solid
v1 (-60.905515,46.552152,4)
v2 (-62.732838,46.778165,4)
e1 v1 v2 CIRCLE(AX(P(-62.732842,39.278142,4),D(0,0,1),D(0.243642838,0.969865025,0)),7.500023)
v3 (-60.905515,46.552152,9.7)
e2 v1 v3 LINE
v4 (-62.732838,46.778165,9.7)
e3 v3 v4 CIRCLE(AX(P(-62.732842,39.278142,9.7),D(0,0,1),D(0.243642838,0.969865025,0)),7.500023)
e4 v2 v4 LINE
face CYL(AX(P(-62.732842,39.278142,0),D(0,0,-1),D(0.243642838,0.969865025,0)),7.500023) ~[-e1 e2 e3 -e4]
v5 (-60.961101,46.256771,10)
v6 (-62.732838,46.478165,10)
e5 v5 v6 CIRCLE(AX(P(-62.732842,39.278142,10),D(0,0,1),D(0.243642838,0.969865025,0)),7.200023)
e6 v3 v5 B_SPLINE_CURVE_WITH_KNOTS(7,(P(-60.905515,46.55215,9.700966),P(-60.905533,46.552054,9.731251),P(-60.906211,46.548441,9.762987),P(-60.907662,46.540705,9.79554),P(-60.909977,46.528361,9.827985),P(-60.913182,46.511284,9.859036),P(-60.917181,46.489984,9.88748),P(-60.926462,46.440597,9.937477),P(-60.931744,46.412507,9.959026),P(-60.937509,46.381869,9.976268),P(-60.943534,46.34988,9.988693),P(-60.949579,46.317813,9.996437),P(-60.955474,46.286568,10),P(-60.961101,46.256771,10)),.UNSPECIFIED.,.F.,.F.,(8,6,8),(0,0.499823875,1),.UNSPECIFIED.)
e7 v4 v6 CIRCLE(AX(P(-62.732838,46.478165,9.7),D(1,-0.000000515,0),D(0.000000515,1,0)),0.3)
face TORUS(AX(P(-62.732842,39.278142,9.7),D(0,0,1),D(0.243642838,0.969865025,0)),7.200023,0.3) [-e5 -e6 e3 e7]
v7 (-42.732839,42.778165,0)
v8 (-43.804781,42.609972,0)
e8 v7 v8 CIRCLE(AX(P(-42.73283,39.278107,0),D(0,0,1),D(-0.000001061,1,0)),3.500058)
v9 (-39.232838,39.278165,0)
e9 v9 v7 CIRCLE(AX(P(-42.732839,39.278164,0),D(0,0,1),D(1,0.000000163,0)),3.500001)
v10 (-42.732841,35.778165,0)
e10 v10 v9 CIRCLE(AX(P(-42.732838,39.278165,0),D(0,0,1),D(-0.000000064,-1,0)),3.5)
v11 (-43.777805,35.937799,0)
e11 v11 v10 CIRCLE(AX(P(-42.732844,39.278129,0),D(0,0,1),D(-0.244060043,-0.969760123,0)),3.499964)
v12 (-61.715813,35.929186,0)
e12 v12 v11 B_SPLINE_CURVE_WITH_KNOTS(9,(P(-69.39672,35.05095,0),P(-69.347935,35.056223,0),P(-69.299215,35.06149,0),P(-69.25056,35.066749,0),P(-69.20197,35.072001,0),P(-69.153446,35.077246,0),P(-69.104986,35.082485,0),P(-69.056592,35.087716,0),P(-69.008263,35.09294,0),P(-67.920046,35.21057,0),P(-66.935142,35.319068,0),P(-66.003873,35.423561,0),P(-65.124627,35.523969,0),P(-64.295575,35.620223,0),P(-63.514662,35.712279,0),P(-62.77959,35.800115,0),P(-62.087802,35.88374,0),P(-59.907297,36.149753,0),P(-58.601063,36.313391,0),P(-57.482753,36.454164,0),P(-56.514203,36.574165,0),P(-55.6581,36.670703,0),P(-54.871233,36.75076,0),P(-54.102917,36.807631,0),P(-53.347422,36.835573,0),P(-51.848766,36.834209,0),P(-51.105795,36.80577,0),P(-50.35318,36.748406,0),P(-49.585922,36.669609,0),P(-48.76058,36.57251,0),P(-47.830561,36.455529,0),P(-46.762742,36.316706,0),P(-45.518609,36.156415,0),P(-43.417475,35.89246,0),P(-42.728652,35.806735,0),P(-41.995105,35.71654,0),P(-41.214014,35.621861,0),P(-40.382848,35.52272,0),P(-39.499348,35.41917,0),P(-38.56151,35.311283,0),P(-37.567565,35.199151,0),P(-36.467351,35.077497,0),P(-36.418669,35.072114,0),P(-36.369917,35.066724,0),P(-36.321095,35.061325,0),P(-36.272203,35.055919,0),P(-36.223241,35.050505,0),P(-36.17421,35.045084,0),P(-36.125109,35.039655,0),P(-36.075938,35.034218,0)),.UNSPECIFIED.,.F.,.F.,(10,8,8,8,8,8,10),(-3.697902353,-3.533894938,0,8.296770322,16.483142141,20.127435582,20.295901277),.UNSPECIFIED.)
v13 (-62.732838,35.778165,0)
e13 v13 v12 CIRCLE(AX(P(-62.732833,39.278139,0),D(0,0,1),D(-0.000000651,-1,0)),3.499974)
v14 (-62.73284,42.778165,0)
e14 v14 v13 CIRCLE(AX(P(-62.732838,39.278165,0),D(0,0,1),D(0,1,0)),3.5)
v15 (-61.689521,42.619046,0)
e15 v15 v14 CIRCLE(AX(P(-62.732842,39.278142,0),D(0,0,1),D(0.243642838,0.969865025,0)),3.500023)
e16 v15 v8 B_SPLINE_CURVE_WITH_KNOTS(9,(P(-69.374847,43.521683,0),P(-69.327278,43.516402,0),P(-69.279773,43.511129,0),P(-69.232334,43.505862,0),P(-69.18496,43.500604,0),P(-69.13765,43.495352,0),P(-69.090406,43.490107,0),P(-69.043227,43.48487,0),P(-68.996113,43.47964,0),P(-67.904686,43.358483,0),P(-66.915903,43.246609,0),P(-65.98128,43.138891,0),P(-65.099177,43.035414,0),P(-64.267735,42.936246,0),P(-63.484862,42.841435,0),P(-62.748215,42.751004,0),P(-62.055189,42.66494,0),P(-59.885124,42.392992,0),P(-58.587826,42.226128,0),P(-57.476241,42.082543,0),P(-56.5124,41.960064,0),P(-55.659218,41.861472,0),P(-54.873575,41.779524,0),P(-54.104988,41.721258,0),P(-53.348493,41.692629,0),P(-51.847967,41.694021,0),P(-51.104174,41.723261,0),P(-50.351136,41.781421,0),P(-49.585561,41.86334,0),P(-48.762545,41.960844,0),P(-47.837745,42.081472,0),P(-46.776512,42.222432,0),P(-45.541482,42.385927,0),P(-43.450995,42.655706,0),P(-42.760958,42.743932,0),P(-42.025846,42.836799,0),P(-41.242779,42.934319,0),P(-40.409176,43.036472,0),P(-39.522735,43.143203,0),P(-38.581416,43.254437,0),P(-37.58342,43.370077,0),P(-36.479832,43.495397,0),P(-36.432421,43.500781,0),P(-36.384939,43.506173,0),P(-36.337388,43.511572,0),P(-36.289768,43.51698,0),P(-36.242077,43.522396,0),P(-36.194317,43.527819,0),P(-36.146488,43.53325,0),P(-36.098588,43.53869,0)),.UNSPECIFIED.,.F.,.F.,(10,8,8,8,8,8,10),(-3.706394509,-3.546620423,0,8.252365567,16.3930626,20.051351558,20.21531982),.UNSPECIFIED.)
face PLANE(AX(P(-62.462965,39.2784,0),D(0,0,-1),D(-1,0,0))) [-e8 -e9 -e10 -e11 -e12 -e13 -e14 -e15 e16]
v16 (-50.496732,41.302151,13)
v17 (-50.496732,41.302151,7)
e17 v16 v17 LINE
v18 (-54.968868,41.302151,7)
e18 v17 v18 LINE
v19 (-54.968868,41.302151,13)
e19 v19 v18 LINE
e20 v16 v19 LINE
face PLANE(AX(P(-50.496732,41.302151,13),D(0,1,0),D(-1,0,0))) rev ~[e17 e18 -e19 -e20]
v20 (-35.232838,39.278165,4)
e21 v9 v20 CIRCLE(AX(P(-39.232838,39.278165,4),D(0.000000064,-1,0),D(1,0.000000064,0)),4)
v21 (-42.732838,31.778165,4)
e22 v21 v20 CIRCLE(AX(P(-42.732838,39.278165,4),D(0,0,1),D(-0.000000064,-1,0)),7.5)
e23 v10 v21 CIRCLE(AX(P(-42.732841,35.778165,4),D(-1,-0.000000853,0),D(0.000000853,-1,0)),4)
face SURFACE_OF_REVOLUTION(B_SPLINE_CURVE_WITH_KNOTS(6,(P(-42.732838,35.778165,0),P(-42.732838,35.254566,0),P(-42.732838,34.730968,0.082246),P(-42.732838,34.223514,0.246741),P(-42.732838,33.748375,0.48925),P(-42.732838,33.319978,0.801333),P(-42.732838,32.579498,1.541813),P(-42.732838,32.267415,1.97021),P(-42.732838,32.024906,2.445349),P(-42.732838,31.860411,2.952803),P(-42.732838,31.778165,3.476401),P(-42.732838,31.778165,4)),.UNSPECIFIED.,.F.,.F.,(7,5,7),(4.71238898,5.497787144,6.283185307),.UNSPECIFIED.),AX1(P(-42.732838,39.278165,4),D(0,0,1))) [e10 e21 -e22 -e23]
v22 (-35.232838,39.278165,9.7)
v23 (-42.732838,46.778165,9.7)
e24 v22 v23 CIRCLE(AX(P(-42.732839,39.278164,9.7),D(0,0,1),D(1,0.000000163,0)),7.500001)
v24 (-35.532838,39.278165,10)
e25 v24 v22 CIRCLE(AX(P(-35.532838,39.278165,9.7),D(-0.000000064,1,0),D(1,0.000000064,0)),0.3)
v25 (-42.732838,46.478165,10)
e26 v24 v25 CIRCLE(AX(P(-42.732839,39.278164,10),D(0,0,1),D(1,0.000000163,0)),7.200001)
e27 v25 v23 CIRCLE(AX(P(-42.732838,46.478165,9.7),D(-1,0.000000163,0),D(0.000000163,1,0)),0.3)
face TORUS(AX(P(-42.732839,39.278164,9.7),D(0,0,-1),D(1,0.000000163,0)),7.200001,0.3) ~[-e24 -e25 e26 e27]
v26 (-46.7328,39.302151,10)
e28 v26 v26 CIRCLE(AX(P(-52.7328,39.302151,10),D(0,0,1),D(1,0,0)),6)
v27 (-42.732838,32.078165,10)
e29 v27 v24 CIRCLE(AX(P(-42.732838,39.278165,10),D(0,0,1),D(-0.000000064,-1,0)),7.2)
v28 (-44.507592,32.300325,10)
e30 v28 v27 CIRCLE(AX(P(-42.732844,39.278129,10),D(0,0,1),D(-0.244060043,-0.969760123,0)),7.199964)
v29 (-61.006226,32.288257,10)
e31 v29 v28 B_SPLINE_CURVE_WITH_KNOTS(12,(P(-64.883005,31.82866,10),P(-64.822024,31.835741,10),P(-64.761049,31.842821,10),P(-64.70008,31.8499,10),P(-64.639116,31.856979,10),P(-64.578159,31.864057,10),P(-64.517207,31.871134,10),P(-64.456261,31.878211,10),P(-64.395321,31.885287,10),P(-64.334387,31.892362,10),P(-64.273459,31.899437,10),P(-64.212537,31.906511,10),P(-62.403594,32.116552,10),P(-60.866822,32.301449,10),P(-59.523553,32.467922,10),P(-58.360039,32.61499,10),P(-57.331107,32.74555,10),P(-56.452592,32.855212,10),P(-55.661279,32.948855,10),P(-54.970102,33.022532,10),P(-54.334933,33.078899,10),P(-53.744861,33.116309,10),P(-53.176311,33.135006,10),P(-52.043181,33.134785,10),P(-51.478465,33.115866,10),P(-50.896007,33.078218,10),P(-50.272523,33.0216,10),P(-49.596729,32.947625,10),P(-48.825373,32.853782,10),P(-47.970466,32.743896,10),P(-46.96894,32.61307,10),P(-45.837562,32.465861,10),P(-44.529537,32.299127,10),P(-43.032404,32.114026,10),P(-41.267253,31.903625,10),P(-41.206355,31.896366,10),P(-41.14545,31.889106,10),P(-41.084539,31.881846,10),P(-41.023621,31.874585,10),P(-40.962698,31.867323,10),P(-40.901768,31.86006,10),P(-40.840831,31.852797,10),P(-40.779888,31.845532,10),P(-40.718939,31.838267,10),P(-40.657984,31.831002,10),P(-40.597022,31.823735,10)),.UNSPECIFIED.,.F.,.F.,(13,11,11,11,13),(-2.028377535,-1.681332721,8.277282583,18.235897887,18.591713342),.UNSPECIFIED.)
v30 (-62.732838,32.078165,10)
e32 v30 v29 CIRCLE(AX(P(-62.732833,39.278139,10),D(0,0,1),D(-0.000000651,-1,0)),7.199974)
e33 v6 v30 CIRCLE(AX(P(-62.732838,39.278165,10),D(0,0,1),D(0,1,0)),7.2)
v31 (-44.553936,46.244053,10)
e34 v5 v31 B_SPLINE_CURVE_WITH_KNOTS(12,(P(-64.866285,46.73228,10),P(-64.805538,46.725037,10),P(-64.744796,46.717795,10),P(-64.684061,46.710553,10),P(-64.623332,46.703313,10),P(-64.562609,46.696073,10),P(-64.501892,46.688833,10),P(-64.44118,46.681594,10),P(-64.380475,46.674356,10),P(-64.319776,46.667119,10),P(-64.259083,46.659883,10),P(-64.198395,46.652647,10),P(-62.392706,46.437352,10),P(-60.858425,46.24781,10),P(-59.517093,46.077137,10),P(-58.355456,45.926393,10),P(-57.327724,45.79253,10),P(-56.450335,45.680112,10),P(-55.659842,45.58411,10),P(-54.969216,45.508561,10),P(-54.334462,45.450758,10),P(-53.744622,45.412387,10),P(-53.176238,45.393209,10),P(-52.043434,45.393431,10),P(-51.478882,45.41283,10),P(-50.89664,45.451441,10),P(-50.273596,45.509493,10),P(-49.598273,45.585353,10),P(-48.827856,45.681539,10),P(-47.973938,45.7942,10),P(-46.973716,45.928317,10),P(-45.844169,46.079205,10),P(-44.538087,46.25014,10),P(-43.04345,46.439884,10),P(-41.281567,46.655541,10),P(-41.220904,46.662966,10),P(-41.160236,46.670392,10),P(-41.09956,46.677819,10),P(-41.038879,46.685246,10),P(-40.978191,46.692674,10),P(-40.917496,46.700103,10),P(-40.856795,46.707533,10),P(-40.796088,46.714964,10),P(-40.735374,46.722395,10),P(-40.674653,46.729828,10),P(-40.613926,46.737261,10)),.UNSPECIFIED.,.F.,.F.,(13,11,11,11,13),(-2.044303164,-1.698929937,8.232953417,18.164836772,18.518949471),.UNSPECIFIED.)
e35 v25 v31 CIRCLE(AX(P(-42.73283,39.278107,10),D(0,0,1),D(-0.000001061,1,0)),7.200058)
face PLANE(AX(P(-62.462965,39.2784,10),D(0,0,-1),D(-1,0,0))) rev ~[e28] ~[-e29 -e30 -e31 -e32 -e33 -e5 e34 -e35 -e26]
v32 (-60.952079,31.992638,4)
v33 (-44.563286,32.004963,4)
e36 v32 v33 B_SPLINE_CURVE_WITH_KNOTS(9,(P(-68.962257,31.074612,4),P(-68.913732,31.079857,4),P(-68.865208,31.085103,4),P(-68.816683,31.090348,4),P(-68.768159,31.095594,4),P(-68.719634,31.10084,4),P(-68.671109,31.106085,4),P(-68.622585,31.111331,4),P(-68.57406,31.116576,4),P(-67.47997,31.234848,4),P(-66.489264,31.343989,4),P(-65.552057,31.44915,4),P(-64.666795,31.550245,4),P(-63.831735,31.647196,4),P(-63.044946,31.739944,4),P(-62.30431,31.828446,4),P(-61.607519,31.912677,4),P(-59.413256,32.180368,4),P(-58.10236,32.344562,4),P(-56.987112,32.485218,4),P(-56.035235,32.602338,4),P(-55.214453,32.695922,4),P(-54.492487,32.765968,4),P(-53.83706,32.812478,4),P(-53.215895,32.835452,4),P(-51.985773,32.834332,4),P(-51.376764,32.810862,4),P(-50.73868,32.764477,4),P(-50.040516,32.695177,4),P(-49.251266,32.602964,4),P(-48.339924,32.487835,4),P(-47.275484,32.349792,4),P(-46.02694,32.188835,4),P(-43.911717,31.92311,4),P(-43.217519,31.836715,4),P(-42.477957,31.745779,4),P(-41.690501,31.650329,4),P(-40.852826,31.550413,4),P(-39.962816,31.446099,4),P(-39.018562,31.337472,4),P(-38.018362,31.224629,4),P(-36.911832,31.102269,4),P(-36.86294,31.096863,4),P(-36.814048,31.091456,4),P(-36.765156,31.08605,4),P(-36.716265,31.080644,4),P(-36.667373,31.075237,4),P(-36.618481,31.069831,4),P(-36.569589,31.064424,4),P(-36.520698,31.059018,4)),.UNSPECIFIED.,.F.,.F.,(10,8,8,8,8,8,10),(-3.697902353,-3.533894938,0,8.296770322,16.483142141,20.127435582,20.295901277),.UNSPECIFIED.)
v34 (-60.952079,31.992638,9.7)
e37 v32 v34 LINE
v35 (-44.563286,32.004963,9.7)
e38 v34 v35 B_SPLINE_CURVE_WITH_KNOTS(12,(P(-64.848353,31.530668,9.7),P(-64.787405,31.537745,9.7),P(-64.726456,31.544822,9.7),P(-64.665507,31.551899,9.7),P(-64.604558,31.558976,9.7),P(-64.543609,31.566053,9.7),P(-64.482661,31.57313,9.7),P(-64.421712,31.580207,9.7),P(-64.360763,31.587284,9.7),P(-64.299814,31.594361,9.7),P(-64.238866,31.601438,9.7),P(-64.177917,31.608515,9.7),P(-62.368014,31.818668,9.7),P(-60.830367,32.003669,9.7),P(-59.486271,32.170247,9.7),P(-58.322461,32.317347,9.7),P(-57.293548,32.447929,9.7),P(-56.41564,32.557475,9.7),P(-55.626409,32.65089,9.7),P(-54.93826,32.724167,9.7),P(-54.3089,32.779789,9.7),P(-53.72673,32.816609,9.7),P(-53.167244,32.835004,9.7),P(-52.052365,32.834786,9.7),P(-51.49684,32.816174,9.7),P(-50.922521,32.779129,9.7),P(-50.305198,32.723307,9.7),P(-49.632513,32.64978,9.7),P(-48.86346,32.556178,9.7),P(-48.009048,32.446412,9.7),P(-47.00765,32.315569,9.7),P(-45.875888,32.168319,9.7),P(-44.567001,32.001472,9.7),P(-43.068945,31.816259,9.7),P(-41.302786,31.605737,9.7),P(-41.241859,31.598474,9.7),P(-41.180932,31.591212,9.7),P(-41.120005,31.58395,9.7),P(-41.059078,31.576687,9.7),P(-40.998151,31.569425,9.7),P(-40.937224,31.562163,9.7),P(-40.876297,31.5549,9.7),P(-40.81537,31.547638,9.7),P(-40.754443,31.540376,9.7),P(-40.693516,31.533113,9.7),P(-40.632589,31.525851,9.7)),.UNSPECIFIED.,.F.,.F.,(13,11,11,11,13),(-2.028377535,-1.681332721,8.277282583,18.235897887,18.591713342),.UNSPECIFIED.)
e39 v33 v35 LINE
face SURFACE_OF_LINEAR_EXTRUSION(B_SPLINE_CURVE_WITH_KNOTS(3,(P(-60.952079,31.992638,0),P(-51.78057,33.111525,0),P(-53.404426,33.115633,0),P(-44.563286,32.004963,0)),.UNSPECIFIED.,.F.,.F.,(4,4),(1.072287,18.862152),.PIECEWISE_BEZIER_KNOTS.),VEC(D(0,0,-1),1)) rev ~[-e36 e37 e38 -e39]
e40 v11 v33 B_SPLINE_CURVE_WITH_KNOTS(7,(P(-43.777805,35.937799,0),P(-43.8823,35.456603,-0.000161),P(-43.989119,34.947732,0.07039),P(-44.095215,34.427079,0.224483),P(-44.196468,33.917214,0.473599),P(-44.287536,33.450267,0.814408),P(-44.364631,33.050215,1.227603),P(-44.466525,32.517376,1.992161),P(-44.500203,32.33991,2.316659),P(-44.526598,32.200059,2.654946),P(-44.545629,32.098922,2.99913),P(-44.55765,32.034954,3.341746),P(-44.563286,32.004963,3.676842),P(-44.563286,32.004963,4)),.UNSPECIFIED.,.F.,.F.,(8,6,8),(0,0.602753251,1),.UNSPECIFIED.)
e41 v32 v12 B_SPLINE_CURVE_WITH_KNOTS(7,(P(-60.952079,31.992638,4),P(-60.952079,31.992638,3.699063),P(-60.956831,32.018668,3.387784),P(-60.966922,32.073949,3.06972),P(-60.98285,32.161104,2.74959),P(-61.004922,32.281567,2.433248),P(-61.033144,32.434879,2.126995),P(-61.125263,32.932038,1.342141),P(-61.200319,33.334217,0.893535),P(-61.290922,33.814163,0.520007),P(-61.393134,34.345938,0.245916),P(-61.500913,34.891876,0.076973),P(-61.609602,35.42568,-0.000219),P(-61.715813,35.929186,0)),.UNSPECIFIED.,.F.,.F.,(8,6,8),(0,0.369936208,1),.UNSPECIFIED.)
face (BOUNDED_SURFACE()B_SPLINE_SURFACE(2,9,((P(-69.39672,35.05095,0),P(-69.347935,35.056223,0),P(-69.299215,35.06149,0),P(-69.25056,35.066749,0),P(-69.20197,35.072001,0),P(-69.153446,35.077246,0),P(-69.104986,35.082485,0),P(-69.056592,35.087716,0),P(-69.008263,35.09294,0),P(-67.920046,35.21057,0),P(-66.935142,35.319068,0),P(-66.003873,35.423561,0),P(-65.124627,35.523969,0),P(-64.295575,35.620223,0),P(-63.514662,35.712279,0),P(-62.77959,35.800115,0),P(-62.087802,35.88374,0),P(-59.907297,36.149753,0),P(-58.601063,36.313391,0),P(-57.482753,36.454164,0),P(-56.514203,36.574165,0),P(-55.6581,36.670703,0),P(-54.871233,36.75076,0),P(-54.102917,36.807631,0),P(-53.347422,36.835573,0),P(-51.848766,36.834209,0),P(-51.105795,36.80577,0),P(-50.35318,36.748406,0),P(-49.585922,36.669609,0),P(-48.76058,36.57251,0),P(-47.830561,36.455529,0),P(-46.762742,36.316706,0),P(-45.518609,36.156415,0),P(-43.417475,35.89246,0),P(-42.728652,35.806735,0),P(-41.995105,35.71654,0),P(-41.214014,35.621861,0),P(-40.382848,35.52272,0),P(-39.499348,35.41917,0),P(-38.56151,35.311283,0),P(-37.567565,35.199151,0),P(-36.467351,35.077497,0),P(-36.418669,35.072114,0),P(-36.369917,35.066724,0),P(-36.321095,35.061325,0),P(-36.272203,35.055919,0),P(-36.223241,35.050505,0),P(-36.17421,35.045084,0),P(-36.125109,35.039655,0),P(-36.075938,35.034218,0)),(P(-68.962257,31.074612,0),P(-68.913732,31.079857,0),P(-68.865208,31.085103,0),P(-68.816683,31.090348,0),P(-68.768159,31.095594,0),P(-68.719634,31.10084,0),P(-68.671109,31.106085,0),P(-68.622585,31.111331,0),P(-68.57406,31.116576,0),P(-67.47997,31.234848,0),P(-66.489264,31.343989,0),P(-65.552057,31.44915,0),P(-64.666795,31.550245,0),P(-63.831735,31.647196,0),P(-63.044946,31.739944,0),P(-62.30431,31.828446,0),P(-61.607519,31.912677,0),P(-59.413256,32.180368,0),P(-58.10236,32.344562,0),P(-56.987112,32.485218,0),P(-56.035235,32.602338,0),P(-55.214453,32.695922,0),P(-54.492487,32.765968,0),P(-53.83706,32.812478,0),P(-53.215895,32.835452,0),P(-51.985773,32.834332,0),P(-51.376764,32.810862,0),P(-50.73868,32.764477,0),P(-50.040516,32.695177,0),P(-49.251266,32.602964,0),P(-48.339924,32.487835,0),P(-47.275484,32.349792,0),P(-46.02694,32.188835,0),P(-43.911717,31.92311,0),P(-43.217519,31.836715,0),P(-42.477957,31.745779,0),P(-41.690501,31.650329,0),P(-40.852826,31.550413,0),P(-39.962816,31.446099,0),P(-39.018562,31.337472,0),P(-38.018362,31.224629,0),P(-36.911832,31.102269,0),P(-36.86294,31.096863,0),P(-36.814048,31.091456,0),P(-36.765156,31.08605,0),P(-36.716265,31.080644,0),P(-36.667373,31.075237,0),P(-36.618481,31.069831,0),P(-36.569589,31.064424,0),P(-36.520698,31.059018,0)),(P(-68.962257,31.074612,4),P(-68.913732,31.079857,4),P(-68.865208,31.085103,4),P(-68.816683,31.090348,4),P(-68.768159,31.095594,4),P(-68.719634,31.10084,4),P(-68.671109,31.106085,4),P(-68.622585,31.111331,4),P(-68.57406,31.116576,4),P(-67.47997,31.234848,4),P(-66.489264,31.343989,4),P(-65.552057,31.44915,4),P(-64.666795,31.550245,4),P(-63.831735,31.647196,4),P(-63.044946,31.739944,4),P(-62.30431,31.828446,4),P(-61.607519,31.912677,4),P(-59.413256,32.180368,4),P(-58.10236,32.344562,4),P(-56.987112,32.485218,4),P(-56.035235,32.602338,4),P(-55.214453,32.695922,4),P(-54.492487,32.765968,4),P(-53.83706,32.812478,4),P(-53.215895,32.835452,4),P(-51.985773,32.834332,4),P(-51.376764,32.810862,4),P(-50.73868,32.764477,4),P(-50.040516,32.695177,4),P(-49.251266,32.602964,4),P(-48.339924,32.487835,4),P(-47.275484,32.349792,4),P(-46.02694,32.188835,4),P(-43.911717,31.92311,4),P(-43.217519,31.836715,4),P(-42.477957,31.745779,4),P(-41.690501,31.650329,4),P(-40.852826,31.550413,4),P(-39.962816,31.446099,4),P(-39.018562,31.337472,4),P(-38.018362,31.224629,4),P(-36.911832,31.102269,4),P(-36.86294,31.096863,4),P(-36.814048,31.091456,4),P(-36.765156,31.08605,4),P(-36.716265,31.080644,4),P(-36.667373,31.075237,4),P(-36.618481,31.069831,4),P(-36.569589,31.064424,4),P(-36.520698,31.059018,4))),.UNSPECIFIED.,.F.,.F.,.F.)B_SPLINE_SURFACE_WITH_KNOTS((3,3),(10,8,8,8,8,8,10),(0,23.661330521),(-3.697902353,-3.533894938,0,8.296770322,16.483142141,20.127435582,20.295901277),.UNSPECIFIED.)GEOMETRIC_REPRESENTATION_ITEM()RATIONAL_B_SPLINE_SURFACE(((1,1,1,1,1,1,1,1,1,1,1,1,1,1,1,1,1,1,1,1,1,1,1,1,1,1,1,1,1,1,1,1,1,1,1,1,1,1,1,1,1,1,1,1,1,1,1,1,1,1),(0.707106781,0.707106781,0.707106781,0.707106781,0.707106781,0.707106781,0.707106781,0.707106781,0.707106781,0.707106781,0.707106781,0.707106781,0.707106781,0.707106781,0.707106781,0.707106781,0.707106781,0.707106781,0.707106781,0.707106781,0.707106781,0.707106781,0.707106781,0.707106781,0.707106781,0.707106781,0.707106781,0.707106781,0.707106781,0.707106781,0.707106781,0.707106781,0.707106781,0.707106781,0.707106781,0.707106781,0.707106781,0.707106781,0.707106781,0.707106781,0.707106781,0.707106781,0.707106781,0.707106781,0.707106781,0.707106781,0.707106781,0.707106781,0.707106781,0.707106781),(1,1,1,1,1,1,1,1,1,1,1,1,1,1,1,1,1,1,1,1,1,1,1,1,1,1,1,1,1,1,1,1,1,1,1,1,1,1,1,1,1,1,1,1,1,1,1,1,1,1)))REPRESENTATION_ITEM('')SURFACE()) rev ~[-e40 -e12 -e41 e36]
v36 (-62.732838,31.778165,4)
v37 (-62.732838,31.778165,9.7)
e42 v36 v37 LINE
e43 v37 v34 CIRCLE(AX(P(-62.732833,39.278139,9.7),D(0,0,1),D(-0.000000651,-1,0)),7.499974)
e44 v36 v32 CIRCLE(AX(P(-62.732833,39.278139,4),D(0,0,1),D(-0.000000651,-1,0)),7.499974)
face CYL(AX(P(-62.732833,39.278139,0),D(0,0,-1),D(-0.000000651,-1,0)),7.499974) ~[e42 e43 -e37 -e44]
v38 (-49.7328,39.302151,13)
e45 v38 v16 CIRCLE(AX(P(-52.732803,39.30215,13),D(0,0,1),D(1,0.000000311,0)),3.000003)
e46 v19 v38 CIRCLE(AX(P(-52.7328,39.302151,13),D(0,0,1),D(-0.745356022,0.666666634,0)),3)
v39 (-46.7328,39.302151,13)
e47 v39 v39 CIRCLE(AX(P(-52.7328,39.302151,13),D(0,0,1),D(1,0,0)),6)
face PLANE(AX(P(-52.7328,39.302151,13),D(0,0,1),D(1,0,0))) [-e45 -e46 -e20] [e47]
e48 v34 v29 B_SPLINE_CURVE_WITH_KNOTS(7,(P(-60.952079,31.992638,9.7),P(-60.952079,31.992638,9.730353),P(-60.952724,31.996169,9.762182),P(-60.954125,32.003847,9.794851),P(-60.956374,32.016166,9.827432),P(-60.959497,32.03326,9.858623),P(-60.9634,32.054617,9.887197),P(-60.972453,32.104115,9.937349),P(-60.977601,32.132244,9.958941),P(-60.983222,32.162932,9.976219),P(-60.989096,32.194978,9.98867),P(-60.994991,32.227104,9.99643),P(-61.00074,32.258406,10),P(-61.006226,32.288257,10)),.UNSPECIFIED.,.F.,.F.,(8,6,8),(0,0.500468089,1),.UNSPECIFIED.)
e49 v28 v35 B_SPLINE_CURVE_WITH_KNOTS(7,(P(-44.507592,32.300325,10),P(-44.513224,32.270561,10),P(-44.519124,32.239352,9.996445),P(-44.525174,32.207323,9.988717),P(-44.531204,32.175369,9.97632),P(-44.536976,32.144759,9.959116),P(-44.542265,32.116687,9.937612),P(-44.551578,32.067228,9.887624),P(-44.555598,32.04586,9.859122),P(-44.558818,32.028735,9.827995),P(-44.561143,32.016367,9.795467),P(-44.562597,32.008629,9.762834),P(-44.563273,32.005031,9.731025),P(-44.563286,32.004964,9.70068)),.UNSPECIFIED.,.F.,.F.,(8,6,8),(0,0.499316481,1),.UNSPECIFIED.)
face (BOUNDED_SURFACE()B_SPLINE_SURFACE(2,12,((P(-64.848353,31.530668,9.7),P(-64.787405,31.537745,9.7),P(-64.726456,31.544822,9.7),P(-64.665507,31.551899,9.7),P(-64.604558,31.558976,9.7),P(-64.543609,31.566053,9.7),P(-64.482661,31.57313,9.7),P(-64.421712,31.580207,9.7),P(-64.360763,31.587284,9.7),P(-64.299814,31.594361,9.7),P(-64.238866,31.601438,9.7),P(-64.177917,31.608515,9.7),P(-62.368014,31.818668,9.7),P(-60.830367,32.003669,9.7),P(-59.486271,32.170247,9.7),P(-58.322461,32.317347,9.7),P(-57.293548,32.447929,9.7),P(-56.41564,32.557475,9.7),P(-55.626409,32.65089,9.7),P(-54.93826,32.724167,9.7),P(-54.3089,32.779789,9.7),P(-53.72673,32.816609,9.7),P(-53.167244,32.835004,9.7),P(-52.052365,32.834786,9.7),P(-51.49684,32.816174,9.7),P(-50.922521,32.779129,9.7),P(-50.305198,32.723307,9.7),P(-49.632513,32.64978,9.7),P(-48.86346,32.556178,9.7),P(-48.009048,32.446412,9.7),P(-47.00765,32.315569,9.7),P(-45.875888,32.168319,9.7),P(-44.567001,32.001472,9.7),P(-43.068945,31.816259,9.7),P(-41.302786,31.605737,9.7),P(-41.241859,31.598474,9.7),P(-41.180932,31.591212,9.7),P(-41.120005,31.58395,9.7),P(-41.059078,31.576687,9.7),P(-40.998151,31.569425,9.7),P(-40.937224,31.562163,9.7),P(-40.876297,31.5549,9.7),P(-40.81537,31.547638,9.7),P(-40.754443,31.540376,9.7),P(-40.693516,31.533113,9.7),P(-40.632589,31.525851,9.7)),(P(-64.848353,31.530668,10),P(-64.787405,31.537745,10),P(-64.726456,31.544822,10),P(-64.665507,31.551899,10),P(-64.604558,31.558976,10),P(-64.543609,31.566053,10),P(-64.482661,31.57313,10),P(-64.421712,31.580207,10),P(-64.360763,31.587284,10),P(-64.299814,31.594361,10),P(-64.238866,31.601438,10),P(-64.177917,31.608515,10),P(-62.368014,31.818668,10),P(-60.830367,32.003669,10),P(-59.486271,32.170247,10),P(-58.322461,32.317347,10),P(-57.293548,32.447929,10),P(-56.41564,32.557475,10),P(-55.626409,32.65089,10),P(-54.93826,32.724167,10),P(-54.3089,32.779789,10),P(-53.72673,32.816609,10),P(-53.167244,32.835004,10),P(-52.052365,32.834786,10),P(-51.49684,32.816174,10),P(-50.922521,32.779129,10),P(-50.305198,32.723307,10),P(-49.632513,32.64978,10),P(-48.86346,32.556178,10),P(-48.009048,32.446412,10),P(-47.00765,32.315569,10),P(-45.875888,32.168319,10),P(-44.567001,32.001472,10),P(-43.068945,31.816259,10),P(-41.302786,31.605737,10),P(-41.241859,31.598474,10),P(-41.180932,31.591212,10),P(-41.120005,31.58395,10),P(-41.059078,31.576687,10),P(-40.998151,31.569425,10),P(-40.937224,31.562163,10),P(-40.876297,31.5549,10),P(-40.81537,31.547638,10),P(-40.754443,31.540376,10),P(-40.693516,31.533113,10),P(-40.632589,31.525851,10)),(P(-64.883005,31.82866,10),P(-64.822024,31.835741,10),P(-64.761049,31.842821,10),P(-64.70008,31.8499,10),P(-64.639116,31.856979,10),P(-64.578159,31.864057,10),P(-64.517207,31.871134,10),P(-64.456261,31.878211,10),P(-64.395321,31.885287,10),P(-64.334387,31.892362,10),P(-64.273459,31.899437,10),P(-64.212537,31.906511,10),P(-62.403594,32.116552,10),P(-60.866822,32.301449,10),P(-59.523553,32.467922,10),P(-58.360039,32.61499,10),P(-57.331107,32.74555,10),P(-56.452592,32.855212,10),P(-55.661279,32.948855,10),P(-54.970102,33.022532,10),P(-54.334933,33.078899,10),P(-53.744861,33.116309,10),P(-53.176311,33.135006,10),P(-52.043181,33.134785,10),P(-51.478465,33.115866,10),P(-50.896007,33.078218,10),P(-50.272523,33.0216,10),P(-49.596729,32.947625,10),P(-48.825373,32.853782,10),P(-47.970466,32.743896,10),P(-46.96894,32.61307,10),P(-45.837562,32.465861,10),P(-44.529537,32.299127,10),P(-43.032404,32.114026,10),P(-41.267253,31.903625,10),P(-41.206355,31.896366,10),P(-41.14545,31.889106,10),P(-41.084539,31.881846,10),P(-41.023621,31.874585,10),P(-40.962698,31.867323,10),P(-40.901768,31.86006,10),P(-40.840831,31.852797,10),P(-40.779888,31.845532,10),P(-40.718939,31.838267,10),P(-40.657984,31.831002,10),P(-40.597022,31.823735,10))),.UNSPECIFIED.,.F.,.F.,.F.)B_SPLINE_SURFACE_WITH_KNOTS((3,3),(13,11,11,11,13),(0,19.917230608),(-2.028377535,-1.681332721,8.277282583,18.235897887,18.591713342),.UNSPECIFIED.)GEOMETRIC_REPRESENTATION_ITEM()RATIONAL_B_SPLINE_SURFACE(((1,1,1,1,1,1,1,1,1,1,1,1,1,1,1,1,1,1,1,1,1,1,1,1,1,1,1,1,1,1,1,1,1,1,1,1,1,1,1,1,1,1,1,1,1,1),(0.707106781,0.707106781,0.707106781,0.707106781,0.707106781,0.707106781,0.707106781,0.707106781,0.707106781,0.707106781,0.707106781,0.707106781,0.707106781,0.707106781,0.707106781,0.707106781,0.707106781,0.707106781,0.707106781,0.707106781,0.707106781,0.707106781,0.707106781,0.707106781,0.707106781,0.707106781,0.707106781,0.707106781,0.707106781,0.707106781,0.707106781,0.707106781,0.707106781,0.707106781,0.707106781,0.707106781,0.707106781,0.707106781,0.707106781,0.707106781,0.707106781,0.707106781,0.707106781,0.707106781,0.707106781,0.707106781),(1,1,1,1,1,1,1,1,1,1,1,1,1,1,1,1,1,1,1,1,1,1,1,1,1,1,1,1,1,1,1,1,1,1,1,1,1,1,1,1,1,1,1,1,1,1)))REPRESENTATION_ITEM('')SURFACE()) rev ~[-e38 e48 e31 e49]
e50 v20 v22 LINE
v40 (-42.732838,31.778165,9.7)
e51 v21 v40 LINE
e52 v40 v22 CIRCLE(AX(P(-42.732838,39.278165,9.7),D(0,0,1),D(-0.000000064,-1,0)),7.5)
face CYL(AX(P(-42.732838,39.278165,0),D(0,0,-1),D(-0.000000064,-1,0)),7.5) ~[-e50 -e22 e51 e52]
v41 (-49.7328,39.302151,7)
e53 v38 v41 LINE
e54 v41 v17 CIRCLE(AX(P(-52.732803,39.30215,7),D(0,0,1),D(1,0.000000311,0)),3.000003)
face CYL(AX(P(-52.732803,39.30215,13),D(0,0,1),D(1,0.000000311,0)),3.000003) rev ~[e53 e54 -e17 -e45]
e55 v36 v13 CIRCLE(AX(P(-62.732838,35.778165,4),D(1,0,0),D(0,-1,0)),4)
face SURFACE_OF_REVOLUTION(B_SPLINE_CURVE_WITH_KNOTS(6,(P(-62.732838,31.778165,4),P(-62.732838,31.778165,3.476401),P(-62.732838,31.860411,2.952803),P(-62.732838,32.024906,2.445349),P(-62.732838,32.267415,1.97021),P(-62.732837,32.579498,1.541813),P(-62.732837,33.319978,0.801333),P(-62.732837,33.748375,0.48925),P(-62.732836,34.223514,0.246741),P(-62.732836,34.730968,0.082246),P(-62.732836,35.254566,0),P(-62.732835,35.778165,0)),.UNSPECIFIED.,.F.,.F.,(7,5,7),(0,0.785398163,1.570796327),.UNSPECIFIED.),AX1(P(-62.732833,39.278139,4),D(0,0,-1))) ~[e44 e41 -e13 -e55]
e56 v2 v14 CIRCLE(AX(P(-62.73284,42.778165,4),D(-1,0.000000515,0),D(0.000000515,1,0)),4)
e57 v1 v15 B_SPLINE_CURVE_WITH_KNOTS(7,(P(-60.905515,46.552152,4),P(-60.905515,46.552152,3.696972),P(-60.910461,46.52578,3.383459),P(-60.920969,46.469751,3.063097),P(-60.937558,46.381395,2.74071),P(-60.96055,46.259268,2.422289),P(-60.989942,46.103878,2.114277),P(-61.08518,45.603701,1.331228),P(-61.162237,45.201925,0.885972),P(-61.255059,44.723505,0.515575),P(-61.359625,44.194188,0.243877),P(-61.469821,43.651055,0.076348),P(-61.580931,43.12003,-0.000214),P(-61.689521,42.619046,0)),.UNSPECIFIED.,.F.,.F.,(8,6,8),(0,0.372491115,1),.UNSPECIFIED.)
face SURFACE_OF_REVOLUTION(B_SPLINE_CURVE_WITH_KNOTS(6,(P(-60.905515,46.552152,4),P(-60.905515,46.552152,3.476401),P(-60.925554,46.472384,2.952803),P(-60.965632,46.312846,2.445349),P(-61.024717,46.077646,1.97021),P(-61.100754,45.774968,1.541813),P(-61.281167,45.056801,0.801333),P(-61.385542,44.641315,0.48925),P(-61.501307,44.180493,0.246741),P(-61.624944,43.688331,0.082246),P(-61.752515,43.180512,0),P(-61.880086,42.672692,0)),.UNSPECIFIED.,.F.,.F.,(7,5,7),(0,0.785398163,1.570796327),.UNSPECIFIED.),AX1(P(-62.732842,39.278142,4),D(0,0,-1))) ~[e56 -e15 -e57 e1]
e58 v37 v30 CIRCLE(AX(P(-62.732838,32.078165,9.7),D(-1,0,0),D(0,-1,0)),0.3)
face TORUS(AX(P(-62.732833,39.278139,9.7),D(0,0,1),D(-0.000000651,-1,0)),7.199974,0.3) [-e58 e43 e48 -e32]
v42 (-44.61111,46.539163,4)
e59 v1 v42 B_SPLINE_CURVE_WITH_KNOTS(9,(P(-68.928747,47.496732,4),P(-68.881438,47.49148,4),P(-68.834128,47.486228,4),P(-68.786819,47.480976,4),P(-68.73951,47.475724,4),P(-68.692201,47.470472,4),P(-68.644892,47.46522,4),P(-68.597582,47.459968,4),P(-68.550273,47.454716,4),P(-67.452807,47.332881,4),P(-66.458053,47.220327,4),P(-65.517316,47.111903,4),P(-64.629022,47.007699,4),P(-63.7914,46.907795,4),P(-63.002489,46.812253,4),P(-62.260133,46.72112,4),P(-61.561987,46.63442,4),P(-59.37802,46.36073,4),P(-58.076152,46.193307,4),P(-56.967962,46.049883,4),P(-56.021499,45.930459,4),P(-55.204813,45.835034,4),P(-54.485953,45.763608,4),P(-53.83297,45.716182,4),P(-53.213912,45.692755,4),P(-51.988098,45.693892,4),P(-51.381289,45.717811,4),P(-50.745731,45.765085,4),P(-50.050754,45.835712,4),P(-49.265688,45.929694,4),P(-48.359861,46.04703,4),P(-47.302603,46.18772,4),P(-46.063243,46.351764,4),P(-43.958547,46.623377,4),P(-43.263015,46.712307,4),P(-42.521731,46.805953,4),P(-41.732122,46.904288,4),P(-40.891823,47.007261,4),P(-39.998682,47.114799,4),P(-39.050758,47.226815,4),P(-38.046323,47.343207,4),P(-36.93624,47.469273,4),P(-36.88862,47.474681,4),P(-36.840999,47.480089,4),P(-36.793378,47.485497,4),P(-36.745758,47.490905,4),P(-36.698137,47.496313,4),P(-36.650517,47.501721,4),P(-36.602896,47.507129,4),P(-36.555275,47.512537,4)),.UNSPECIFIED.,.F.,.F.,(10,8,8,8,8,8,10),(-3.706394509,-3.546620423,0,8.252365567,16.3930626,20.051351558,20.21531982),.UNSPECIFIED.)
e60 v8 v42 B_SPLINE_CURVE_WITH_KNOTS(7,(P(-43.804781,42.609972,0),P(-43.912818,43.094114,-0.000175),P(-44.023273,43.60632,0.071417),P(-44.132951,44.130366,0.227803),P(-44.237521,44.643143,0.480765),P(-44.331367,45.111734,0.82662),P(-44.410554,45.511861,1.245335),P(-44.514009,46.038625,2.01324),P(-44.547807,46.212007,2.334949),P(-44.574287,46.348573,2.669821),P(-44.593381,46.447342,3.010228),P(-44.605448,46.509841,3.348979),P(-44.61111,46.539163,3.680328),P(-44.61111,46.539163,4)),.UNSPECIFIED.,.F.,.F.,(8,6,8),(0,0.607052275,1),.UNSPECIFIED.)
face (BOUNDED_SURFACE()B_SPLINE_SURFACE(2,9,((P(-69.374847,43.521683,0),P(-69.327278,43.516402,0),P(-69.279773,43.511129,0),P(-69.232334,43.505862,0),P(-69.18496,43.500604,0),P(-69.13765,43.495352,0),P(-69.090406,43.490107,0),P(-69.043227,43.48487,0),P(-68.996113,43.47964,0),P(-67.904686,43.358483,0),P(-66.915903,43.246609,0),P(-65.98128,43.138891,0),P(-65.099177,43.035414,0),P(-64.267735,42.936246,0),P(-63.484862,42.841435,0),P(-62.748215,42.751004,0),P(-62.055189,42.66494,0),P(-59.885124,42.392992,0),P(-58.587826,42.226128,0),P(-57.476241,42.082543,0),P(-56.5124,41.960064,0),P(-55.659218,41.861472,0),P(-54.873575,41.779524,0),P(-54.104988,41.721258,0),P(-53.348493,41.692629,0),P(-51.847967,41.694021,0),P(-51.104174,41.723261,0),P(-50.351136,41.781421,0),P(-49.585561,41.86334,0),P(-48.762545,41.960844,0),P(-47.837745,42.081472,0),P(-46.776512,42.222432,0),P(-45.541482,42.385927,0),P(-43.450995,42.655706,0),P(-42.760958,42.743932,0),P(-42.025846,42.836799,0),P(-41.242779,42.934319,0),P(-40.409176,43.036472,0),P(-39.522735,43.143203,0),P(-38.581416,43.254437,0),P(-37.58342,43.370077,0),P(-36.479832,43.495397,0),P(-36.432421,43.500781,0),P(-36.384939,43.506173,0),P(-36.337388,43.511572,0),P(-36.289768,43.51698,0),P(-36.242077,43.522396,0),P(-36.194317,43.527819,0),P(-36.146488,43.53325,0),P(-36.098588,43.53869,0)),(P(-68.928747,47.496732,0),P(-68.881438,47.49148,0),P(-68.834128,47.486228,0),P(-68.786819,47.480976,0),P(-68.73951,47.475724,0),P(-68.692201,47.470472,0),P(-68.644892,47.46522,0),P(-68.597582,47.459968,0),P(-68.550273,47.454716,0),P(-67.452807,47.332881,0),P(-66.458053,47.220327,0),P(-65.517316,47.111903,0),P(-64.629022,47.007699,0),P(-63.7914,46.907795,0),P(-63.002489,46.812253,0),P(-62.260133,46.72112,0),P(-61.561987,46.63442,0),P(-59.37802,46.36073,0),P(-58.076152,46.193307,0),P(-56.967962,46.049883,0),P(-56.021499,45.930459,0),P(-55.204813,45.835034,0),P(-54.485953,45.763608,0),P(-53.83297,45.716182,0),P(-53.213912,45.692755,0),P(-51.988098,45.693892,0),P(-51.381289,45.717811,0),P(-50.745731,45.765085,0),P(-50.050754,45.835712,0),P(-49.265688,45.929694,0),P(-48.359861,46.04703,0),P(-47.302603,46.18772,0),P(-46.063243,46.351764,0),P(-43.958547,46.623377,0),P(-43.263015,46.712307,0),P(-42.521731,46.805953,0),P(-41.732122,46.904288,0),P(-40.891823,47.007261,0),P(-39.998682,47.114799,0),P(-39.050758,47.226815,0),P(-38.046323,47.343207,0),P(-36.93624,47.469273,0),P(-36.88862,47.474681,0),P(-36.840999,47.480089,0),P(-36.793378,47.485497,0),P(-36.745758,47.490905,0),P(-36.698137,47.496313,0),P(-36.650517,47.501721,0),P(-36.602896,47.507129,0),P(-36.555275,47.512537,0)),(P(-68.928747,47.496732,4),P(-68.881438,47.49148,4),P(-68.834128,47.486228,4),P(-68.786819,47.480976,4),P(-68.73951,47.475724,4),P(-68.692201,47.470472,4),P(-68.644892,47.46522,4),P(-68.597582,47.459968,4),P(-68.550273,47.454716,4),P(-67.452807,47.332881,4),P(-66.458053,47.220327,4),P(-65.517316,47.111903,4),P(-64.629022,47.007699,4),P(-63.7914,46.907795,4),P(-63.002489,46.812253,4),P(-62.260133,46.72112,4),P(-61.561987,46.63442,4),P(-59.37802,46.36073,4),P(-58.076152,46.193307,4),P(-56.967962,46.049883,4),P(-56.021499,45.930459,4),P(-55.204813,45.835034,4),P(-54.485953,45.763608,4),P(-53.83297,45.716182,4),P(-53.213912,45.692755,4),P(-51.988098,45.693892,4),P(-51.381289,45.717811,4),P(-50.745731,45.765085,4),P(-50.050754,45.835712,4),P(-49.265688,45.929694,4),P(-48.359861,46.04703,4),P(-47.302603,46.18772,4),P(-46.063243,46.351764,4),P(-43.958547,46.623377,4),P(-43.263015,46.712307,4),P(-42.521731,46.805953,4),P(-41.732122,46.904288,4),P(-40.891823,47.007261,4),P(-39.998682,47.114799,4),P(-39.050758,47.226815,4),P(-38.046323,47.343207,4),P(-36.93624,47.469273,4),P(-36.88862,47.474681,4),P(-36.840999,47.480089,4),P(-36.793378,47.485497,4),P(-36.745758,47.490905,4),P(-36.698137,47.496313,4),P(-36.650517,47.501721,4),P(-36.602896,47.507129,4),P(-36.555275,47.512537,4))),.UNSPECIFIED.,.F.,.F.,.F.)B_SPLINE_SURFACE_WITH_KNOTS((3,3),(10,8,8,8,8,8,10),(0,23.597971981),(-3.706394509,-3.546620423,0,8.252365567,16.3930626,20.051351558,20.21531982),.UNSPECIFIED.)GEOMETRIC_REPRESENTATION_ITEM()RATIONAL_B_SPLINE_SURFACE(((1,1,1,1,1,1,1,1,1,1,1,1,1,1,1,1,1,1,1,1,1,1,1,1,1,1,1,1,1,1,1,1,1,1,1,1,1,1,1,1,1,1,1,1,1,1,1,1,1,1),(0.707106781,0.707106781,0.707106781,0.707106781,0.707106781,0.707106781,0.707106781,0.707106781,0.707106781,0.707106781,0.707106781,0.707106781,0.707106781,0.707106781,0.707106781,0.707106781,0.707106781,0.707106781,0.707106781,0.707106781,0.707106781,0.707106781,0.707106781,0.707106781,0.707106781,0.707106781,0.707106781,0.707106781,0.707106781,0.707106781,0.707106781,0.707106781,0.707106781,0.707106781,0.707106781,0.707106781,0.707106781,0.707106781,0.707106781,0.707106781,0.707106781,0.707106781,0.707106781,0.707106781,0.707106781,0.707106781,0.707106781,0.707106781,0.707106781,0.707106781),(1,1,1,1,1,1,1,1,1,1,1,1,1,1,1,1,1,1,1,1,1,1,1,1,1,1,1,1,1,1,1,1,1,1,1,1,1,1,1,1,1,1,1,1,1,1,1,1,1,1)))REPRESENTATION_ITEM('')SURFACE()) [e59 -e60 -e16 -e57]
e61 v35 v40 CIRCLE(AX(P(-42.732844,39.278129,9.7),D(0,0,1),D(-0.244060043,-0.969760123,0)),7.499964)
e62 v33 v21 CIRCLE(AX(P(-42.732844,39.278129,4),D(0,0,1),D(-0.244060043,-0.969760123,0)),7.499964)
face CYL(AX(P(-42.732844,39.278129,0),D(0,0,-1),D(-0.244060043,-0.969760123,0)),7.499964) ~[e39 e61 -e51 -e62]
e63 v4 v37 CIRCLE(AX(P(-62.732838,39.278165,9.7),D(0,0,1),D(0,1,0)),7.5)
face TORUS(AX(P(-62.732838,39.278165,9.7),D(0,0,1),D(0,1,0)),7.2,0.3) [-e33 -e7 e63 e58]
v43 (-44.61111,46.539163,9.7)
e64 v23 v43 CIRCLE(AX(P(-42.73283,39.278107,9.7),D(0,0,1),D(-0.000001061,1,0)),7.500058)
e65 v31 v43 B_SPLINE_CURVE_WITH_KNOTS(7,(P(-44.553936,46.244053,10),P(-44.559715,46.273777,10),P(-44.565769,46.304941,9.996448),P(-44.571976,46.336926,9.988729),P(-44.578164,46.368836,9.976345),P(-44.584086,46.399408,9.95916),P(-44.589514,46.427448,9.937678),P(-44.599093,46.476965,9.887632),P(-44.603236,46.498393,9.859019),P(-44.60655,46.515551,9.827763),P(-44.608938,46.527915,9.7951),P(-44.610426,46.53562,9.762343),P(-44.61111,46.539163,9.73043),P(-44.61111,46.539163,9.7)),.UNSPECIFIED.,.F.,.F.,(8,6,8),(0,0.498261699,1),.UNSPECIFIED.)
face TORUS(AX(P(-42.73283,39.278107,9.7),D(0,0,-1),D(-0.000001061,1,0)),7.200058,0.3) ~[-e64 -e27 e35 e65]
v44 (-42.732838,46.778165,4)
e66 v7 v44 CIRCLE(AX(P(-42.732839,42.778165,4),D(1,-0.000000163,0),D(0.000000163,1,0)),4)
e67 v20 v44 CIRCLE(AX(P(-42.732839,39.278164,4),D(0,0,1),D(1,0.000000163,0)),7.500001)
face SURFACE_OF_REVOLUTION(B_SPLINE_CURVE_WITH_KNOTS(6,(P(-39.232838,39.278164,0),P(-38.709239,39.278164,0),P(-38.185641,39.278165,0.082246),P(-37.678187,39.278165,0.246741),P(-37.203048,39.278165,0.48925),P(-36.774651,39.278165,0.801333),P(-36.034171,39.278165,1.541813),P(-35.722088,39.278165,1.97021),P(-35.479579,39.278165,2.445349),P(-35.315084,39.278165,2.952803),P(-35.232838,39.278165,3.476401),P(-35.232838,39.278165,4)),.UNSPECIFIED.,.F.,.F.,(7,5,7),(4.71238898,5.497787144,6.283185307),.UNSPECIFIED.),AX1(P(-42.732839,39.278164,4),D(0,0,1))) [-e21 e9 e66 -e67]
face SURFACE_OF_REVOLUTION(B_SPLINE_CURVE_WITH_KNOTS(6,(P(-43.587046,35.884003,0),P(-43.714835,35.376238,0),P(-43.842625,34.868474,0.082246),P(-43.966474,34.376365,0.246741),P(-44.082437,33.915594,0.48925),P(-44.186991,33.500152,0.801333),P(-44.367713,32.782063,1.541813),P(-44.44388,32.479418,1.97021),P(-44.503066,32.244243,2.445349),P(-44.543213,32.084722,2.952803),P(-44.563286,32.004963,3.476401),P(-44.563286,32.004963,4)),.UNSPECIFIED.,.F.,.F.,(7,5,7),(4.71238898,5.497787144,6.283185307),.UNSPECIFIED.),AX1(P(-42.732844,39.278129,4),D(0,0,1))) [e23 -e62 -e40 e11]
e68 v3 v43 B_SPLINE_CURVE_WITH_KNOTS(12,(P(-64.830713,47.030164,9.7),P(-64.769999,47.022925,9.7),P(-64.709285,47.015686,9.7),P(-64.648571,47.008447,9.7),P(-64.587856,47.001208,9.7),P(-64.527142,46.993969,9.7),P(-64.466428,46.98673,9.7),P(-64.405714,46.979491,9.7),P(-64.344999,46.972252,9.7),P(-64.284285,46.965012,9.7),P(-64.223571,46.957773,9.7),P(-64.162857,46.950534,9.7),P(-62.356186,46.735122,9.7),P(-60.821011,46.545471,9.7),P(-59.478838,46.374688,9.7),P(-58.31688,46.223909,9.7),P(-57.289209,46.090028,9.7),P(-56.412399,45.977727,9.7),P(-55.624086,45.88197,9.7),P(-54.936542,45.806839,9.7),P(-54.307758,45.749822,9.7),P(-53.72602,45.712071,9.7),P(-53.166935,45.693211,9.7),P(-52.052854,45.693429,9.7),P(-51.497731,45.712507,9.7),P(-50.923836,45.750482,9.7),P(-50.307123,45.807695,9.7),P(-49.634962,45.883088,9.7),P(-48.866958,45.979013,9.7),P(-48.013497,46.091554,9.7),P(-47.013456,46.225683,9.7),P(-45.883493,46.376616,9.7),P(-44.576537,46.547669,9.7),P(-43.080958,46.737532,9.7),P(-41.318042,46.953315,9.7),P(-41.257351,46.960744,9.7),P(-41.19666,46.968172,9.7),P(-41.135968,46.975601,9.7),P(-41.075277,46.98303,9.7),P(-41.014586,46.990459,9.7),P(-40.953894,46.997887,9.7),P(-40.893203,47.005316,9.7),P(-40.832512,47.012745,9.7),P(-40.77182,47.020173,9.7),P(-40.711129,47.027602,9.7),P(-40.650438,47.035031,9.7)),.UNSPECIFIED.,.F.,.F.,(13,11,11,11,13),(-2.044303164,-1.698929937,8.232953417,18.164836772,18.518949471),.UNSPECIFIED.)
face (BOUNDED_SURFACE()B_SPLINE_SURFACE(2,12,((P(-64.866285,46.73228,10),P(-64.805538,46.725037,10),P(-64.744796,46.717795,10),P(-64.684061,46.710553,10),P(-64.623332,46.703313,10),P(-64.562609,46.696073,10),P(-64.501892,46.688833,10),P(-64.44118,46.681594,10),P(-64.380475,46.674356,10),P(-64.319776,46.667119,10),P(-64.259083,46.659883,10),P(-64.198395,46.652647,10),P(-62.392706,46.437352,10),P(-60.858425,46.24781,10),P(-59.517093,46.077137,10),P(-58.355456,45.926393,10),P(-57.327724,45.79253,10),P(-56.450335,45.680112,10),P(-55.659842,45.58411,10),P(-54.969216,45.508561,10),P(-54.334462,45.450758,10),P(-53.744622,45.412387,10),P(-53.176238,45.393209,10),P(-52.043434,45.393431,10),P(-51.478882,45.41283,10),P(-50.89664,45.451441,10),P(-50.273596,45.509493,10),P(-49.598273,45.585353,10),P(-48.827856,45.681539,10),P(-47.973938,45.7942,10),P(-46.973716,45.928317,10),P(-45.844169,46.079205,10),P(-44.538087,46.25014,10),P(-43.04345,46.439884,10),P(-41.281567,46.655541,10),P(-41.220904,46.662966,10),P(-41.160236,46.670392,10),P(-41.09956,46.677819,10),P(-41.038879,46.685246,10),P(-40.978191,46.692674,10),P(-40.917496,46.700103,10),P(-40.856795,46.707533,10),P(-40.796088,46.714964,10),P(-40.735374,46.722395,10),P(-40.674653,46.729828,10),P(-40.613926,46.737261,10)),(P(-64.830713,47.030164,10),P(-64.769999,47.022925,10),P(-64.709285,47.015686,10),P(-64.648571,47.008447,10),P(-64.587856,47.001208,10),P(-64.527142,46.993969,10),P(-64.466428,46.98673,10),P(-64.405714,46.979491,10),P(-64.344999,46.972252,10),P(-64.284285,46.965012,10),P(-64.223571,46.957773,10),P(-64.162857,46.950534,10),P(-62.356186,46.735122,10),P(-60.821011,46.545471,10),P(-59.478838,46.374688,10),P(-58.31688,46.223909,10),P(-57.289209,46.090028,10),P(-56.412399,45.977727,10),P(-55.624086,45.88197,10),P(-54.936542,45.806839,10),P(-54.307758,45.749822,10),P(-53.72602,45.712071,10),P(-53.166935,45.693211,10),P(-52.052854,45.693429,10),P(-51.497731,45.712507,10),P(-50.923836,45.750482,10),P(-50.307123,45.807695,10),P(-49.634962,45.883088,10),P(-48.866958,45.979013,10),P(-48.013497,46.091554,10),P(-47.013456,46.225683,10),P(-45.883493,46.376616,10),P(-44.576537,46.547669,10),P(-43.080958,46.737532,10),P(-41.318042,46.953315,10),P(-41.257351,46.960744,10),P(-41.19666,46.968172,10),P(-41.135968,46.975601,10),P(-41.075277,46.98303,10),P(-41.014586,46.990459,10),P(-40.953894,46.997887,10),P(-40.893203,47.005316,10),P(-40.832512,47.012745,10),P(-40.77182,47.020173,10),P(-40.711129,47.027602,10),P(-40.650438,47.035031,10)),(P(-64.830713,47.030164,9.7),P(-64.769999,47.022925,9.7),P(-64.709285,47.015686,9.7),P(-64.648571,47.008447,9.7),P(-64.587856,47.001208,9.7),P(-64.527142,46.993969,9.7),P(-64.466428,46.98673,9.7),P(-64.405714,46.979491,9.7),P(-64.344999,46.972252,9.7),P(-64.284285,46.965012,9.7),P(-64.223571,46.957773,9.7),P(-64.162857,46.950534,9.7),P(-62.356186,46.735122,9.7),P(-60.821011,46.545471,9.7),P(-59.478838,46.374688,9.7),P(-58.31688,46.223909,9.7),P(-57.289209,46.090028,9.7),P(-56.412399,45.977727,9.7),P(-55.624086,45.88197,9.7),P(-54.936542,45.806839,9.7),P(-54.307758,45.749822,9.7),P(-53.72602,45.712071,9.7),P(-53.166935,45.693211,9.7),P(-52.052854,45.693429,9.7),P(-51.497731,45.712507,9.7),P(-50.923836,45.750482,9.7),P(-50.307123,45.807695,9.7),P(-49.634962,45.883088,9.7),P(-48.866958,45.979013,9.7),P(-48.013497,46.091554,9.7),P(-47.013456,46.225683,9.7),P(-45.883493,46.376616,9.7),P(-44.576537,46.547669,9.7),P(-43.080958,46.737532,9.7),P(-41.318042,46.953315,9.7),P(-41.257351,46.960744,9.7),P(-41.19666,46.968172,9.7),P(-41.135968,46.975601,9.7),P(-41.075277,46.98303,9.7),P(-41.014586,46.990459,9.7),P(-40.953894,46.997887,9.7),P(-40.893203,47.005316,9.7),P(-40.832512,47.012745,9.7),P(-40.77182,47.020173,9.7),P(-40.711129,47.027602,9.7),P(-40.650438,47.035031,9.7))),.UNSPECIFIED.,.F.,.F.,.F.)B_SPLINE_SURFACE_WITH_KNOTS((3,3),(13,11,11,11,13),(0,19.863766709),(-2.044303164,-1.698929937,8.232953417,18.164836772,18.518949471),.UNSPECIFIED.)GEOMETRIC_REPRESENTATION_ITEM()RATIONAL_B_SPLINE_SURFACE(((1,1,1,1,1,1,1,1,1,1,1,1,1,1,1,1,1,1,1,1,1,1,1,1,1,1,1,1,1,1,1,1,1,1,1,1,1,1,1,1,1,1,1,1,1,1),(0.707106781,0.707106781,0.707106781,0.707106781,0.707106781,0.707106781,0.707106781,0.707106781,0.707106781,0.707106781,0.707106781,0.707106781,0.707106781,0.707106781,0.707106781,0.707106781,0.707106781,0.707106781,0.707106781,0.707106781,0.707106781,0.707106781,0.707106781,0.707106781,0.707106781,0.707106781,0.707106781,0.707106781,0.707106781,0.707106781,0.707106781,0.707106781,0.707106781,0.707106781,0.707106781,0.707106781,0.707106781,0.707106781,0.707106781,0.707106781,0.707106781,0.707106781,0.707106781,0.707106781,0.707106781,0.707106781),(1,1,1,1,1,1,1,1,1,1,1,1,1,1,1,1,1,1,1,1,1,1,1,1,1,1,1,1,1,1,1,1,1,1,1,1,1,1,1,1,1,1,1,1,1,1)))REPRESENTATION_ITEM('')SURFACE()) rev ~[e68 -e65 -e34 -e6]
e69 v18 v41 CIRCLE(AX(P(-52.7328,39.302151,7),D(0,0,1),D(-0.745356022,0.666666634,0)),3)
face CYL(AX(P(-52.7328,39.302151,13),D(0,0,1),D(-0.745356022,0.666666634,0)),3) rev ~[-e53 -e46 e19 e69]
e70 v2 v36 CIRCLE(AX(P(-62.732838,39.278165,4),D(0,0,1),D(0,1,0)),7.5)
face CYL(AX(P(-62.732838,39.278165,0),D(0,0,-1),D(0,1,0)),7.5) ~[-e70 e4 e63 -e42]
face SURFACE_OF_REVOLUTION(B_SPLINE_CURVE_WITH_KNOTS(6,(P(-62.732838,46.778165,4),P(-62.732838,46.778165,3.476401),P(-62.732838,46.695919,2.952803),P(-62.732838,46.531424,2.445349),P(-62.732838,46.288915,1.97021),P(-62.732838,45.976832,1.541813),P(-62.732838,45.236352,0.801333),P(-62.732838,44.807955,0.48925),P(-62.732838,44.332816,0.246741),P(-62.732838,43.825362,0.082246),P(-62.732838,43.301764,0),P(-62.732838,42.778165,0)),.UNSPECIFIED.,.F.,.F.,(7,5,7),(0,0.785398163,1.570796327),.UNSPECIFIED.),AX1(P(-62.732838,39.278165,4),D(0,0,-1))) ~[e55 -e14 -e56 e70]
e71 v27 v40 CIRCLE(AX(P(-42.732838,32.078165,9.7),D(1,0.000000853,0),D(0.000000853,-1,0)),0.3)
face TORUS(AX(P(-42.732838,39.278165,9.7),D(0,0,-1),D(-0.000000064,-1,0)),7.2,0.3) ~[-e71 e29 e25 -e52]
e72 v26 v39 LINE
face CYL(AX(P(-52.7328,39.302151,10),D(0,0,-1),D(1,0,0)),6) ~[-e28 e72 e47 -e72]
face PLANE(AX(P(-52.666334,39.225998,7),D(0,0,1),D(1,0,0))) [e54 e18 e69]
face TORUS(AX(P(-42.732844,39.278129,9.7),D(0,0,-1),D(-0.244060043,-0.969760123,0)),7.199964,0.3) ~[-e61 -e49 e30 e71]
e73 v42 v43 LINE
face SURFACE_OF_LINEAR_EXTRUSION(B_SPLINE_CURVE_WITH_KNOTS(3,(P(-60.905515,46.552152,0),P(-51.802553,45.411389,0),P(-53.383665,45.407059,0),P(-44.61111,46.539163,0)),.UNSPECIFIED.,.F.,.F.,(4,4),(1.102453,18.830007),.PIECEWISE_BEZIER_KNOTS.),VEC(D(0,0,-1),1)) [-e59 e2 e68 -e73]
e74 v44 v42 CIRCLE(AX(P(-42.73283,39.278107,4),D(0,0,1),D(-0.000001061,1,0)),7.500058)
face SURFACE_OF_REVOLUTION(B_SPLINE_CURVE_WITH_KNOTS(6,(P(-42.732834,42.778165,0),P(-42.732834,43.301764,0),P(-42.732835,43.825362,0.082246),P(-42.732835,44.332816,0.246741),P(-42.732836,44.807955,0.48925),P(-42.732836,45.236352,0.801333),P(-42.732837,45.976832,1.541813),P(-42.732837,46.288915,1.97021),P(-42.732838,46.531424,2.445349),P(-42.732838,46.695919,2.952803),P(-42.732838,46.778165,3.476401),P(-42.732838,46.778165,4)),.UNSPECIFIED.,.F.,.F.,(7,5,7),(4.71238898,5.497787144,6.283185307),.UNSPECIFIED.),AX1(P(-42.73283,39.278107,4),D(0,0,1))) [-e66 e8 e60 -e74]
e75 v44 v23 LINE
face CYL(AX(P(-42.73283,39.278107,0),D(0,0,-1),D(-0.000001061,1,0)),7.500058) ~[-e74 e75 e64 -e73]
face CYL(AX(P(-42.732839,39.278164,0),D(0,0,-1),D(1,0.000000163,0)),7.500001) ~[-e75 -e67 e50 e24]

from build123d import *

# Parameters (mm, degrees)
F1_DEPTH = 10
F2_R     = 6
F3_DEPTH = 3
F5_DEPTH = 6
F6_R     = 0.3
F7_R     = 4


with BuildPart() as f1:
    # F0 (on Top) → F1 (new body)
    with BuildSketch(Plane.XY):
        with BuildLine():
            add(Edge.make_bspline(
                [(-62.732838, 46.778165), (-62.079037, 46.698432), (-61.471616, 46.623094), (-60.905515, 46.552152)],
                knots=[0, 0, 0, 0, 1.102453, 1.102453, 1.102453, 1.102453], degree=3))
            ThreePointArc((-62.732838, 46.778165), (-70.232838, 39.278165), (-62.732838, 31.778165))
            add(Edge.make_bspline(
                [(-62.732838, 31.778165), (-62.096927, 31.853706), (-61.504893, 31.925197), (-60.952079, 31.992638)],
                knots=[0, 0, 0, 0, 1.072287, 1.072287, 1.072287, 1.072287], degree=3))
            ThreePointArc((-60.952079, 31.992638), (-56.833444, 34.647057), (-55.232838, 39.278165))
            ThreePointArc((-55.232838, 39.278165), (-56.818663, 43.890381), (-60.905515, 46.552152))
        make_face()
        with BuildLine():
            ThreePointArc((-60.905515, 46.552152), (-61.812214, 46.721447), (-62.732838, 46.778165))
            add(Edge.make_bspline(
                [(-62.732838, 46.778165), (-62.079037, 46.698432), (-61.471616, 46.623094), (-60.905515, 46.552152)],
                knots=[0, 0, 0, 0, 1.102453, 1.102453, 1.102453, 1.102453], degree=3))
        make_face()
        with BuildLine():
            add(Edge.make_bspline(
                [(-62.732838, 31.778165), (-62.096927, 31.853706), (-61.504893, 31.925197), (-60.952079, 31.992638)],
                knots=[0, 0, 0, 0, 1.072287, 1.072287, 1.072287, 1.072287], degree=3))
            ThreePointArc((-62.732838, 31.778165), (-61.836024, 31.831976), (-60.952079, 31.992638))
        make_face()
        with BuildLine():
            add(Edge.make_bspline(
                [(-60.905515, 46.552152), (-51.802553, 45.411389), (-53.383665, 45.407059), (-44.61111, 46.539163)],
                knots=[1.102453, 1.102453, 1.102453, 1.102453, 18.830007, 18.830007, 18.830007, 18.830007], degree=3))
            ThreePointArc((-60.905515, 46.552152), (-56.818663, 43.890381), (-55.232838, 39.278165))
            ThreePointArc((-55.232838, 39.278165), (-56.833444, 34.647057), (-60.952079, 31.992638))
            add(Edge.make_bspline(
                [(-60.952079, 31.992638), (-51.78057, 33.111525), (-53.404426, 33.115633), (-44.563286, 32.004963)],
                knots=[1.072287, 1.072287, 1.072287, 1.072287, 18.862152, 18.862152, 18.862152, 18.862152], degree=3))
            ThreePointArc((-44.563286, 32.004963), (-50.232797, 39.253486), (-44.61111, 46.539163))
        make_face()
        with BuildLine():
            add(Edge.make_bspline(
                [(-44.61111, 46.539163), (-44.032134, 46.61388), (-43.408059, 46.693547), (-42.732838, 46.778165)],
                knots=[18.830007, 18.830007, 18.830007, 18.830007, 20, 20, 20, 20], degree=3))
            ThreePointArc((-44.61111, 46.539163), (-50.232797, 39.253486), (-44.563286, 32.004963))
            add(Edge.make_bspline(
                [(-44.563286, 32.004963), (-43.997803, 31.933924), (-43.389508, 31.858324), (-42.732838, 31.778165)],
                knots=[18.862152, 18.862152, 18.862152, 18.862152, 20, 20, 20, 20], degree=3))
            ThreePointArc((-42.732838, 31.778165), (-37.429537, 33.974864), (-35.232838, 39.278165))
            ThreePointArc((-35.232838, 39.278165), (-37.429537, 44.581465), (-42.732838, 46.778165))
        make_face()
        with BuildLine():
            ThreePointArc((-42.732838, 46.778165), (-43.679547, 46.718174), (-44.61111, 46.539163))
            add(Edge.make_bspline(
                [(-44.61111, 46.539163), (-44.032134, 46.61388), (-43.408059, 46.693547), (-42.732838, 46.778165)],
                knots=[18.830007, 18.830007, 18.830007, 18.830007, 20, 20, 20, 20], degree=3))
        make_face()
        with BuildLine():
            add(Edge.make_bspline(
                [(-44.563286, 32.004963), (-43.997803, 31.933924), (-43.389508, 31.858324), (-42.732838, 31.778165)],
                knots=[18.862152, 18.862152, 18.862152, 18.862152, 20, 20, 20, 20], degree=3))
            ThreePointArc((-44.563286, 32.004963), (-43.65506, 31.83508), (-42.732838, 31.778165))
        make_face()
    extrude(amount=F1_DEPTH)

    # F2 (on face) → F3 (join)
    with BuildSketch(Plane.XY.offset(10)):
        with Locations((-52.7328, 39.302151)):
            Circle(F2_R)
    extrude(amount=F3_DEPTH)

    # F4 (on face) → F5 (cut)
    with BuildSketch(Plane.XY.offset(13)):
        with BuildLine():
            ThreePointArc((-54.968868, 41.302151), (-53.803266, 36.499634), (-49.7328, 39.302151))
            ThreePointArc((-49.7328, 39.302151), (-49.930283, 40.372617), (-50.496732, 41.302151))
            Line((-50.496732, 41.302151), (-54.968868, 41.302151))
        make_face()
    extrude(amount=-F5_DEPTH, mode=Mode.SUBTRACT)

    # F6
    f6_edges = [f1.edges().sort_by_distance(p)[0] for p in [
        (-70.17612, 40.198788, 10),
        (-52.758079, 45.693906, 10),
        (-35.232879, 39.302843, 10),
        (-52.757446, 32.834331, 10),
    ]]
    fillet(f6_edges, radius=F6_R)

    # F7
    f7_edges = [f1.edges().sort_by_distance(p)[0] for p in [
        (-70.17612, 40.198788, 0),
        (-52.758079, 45.693906, 0),
        (-35.232879, 39.302843, 0),
        (-52.757446, 32.834331, 0),
        (-61.836024, 31.831976, 0),
    ]]
    fillet(f7_edges, radius=F7_R)


solid = f1.part
